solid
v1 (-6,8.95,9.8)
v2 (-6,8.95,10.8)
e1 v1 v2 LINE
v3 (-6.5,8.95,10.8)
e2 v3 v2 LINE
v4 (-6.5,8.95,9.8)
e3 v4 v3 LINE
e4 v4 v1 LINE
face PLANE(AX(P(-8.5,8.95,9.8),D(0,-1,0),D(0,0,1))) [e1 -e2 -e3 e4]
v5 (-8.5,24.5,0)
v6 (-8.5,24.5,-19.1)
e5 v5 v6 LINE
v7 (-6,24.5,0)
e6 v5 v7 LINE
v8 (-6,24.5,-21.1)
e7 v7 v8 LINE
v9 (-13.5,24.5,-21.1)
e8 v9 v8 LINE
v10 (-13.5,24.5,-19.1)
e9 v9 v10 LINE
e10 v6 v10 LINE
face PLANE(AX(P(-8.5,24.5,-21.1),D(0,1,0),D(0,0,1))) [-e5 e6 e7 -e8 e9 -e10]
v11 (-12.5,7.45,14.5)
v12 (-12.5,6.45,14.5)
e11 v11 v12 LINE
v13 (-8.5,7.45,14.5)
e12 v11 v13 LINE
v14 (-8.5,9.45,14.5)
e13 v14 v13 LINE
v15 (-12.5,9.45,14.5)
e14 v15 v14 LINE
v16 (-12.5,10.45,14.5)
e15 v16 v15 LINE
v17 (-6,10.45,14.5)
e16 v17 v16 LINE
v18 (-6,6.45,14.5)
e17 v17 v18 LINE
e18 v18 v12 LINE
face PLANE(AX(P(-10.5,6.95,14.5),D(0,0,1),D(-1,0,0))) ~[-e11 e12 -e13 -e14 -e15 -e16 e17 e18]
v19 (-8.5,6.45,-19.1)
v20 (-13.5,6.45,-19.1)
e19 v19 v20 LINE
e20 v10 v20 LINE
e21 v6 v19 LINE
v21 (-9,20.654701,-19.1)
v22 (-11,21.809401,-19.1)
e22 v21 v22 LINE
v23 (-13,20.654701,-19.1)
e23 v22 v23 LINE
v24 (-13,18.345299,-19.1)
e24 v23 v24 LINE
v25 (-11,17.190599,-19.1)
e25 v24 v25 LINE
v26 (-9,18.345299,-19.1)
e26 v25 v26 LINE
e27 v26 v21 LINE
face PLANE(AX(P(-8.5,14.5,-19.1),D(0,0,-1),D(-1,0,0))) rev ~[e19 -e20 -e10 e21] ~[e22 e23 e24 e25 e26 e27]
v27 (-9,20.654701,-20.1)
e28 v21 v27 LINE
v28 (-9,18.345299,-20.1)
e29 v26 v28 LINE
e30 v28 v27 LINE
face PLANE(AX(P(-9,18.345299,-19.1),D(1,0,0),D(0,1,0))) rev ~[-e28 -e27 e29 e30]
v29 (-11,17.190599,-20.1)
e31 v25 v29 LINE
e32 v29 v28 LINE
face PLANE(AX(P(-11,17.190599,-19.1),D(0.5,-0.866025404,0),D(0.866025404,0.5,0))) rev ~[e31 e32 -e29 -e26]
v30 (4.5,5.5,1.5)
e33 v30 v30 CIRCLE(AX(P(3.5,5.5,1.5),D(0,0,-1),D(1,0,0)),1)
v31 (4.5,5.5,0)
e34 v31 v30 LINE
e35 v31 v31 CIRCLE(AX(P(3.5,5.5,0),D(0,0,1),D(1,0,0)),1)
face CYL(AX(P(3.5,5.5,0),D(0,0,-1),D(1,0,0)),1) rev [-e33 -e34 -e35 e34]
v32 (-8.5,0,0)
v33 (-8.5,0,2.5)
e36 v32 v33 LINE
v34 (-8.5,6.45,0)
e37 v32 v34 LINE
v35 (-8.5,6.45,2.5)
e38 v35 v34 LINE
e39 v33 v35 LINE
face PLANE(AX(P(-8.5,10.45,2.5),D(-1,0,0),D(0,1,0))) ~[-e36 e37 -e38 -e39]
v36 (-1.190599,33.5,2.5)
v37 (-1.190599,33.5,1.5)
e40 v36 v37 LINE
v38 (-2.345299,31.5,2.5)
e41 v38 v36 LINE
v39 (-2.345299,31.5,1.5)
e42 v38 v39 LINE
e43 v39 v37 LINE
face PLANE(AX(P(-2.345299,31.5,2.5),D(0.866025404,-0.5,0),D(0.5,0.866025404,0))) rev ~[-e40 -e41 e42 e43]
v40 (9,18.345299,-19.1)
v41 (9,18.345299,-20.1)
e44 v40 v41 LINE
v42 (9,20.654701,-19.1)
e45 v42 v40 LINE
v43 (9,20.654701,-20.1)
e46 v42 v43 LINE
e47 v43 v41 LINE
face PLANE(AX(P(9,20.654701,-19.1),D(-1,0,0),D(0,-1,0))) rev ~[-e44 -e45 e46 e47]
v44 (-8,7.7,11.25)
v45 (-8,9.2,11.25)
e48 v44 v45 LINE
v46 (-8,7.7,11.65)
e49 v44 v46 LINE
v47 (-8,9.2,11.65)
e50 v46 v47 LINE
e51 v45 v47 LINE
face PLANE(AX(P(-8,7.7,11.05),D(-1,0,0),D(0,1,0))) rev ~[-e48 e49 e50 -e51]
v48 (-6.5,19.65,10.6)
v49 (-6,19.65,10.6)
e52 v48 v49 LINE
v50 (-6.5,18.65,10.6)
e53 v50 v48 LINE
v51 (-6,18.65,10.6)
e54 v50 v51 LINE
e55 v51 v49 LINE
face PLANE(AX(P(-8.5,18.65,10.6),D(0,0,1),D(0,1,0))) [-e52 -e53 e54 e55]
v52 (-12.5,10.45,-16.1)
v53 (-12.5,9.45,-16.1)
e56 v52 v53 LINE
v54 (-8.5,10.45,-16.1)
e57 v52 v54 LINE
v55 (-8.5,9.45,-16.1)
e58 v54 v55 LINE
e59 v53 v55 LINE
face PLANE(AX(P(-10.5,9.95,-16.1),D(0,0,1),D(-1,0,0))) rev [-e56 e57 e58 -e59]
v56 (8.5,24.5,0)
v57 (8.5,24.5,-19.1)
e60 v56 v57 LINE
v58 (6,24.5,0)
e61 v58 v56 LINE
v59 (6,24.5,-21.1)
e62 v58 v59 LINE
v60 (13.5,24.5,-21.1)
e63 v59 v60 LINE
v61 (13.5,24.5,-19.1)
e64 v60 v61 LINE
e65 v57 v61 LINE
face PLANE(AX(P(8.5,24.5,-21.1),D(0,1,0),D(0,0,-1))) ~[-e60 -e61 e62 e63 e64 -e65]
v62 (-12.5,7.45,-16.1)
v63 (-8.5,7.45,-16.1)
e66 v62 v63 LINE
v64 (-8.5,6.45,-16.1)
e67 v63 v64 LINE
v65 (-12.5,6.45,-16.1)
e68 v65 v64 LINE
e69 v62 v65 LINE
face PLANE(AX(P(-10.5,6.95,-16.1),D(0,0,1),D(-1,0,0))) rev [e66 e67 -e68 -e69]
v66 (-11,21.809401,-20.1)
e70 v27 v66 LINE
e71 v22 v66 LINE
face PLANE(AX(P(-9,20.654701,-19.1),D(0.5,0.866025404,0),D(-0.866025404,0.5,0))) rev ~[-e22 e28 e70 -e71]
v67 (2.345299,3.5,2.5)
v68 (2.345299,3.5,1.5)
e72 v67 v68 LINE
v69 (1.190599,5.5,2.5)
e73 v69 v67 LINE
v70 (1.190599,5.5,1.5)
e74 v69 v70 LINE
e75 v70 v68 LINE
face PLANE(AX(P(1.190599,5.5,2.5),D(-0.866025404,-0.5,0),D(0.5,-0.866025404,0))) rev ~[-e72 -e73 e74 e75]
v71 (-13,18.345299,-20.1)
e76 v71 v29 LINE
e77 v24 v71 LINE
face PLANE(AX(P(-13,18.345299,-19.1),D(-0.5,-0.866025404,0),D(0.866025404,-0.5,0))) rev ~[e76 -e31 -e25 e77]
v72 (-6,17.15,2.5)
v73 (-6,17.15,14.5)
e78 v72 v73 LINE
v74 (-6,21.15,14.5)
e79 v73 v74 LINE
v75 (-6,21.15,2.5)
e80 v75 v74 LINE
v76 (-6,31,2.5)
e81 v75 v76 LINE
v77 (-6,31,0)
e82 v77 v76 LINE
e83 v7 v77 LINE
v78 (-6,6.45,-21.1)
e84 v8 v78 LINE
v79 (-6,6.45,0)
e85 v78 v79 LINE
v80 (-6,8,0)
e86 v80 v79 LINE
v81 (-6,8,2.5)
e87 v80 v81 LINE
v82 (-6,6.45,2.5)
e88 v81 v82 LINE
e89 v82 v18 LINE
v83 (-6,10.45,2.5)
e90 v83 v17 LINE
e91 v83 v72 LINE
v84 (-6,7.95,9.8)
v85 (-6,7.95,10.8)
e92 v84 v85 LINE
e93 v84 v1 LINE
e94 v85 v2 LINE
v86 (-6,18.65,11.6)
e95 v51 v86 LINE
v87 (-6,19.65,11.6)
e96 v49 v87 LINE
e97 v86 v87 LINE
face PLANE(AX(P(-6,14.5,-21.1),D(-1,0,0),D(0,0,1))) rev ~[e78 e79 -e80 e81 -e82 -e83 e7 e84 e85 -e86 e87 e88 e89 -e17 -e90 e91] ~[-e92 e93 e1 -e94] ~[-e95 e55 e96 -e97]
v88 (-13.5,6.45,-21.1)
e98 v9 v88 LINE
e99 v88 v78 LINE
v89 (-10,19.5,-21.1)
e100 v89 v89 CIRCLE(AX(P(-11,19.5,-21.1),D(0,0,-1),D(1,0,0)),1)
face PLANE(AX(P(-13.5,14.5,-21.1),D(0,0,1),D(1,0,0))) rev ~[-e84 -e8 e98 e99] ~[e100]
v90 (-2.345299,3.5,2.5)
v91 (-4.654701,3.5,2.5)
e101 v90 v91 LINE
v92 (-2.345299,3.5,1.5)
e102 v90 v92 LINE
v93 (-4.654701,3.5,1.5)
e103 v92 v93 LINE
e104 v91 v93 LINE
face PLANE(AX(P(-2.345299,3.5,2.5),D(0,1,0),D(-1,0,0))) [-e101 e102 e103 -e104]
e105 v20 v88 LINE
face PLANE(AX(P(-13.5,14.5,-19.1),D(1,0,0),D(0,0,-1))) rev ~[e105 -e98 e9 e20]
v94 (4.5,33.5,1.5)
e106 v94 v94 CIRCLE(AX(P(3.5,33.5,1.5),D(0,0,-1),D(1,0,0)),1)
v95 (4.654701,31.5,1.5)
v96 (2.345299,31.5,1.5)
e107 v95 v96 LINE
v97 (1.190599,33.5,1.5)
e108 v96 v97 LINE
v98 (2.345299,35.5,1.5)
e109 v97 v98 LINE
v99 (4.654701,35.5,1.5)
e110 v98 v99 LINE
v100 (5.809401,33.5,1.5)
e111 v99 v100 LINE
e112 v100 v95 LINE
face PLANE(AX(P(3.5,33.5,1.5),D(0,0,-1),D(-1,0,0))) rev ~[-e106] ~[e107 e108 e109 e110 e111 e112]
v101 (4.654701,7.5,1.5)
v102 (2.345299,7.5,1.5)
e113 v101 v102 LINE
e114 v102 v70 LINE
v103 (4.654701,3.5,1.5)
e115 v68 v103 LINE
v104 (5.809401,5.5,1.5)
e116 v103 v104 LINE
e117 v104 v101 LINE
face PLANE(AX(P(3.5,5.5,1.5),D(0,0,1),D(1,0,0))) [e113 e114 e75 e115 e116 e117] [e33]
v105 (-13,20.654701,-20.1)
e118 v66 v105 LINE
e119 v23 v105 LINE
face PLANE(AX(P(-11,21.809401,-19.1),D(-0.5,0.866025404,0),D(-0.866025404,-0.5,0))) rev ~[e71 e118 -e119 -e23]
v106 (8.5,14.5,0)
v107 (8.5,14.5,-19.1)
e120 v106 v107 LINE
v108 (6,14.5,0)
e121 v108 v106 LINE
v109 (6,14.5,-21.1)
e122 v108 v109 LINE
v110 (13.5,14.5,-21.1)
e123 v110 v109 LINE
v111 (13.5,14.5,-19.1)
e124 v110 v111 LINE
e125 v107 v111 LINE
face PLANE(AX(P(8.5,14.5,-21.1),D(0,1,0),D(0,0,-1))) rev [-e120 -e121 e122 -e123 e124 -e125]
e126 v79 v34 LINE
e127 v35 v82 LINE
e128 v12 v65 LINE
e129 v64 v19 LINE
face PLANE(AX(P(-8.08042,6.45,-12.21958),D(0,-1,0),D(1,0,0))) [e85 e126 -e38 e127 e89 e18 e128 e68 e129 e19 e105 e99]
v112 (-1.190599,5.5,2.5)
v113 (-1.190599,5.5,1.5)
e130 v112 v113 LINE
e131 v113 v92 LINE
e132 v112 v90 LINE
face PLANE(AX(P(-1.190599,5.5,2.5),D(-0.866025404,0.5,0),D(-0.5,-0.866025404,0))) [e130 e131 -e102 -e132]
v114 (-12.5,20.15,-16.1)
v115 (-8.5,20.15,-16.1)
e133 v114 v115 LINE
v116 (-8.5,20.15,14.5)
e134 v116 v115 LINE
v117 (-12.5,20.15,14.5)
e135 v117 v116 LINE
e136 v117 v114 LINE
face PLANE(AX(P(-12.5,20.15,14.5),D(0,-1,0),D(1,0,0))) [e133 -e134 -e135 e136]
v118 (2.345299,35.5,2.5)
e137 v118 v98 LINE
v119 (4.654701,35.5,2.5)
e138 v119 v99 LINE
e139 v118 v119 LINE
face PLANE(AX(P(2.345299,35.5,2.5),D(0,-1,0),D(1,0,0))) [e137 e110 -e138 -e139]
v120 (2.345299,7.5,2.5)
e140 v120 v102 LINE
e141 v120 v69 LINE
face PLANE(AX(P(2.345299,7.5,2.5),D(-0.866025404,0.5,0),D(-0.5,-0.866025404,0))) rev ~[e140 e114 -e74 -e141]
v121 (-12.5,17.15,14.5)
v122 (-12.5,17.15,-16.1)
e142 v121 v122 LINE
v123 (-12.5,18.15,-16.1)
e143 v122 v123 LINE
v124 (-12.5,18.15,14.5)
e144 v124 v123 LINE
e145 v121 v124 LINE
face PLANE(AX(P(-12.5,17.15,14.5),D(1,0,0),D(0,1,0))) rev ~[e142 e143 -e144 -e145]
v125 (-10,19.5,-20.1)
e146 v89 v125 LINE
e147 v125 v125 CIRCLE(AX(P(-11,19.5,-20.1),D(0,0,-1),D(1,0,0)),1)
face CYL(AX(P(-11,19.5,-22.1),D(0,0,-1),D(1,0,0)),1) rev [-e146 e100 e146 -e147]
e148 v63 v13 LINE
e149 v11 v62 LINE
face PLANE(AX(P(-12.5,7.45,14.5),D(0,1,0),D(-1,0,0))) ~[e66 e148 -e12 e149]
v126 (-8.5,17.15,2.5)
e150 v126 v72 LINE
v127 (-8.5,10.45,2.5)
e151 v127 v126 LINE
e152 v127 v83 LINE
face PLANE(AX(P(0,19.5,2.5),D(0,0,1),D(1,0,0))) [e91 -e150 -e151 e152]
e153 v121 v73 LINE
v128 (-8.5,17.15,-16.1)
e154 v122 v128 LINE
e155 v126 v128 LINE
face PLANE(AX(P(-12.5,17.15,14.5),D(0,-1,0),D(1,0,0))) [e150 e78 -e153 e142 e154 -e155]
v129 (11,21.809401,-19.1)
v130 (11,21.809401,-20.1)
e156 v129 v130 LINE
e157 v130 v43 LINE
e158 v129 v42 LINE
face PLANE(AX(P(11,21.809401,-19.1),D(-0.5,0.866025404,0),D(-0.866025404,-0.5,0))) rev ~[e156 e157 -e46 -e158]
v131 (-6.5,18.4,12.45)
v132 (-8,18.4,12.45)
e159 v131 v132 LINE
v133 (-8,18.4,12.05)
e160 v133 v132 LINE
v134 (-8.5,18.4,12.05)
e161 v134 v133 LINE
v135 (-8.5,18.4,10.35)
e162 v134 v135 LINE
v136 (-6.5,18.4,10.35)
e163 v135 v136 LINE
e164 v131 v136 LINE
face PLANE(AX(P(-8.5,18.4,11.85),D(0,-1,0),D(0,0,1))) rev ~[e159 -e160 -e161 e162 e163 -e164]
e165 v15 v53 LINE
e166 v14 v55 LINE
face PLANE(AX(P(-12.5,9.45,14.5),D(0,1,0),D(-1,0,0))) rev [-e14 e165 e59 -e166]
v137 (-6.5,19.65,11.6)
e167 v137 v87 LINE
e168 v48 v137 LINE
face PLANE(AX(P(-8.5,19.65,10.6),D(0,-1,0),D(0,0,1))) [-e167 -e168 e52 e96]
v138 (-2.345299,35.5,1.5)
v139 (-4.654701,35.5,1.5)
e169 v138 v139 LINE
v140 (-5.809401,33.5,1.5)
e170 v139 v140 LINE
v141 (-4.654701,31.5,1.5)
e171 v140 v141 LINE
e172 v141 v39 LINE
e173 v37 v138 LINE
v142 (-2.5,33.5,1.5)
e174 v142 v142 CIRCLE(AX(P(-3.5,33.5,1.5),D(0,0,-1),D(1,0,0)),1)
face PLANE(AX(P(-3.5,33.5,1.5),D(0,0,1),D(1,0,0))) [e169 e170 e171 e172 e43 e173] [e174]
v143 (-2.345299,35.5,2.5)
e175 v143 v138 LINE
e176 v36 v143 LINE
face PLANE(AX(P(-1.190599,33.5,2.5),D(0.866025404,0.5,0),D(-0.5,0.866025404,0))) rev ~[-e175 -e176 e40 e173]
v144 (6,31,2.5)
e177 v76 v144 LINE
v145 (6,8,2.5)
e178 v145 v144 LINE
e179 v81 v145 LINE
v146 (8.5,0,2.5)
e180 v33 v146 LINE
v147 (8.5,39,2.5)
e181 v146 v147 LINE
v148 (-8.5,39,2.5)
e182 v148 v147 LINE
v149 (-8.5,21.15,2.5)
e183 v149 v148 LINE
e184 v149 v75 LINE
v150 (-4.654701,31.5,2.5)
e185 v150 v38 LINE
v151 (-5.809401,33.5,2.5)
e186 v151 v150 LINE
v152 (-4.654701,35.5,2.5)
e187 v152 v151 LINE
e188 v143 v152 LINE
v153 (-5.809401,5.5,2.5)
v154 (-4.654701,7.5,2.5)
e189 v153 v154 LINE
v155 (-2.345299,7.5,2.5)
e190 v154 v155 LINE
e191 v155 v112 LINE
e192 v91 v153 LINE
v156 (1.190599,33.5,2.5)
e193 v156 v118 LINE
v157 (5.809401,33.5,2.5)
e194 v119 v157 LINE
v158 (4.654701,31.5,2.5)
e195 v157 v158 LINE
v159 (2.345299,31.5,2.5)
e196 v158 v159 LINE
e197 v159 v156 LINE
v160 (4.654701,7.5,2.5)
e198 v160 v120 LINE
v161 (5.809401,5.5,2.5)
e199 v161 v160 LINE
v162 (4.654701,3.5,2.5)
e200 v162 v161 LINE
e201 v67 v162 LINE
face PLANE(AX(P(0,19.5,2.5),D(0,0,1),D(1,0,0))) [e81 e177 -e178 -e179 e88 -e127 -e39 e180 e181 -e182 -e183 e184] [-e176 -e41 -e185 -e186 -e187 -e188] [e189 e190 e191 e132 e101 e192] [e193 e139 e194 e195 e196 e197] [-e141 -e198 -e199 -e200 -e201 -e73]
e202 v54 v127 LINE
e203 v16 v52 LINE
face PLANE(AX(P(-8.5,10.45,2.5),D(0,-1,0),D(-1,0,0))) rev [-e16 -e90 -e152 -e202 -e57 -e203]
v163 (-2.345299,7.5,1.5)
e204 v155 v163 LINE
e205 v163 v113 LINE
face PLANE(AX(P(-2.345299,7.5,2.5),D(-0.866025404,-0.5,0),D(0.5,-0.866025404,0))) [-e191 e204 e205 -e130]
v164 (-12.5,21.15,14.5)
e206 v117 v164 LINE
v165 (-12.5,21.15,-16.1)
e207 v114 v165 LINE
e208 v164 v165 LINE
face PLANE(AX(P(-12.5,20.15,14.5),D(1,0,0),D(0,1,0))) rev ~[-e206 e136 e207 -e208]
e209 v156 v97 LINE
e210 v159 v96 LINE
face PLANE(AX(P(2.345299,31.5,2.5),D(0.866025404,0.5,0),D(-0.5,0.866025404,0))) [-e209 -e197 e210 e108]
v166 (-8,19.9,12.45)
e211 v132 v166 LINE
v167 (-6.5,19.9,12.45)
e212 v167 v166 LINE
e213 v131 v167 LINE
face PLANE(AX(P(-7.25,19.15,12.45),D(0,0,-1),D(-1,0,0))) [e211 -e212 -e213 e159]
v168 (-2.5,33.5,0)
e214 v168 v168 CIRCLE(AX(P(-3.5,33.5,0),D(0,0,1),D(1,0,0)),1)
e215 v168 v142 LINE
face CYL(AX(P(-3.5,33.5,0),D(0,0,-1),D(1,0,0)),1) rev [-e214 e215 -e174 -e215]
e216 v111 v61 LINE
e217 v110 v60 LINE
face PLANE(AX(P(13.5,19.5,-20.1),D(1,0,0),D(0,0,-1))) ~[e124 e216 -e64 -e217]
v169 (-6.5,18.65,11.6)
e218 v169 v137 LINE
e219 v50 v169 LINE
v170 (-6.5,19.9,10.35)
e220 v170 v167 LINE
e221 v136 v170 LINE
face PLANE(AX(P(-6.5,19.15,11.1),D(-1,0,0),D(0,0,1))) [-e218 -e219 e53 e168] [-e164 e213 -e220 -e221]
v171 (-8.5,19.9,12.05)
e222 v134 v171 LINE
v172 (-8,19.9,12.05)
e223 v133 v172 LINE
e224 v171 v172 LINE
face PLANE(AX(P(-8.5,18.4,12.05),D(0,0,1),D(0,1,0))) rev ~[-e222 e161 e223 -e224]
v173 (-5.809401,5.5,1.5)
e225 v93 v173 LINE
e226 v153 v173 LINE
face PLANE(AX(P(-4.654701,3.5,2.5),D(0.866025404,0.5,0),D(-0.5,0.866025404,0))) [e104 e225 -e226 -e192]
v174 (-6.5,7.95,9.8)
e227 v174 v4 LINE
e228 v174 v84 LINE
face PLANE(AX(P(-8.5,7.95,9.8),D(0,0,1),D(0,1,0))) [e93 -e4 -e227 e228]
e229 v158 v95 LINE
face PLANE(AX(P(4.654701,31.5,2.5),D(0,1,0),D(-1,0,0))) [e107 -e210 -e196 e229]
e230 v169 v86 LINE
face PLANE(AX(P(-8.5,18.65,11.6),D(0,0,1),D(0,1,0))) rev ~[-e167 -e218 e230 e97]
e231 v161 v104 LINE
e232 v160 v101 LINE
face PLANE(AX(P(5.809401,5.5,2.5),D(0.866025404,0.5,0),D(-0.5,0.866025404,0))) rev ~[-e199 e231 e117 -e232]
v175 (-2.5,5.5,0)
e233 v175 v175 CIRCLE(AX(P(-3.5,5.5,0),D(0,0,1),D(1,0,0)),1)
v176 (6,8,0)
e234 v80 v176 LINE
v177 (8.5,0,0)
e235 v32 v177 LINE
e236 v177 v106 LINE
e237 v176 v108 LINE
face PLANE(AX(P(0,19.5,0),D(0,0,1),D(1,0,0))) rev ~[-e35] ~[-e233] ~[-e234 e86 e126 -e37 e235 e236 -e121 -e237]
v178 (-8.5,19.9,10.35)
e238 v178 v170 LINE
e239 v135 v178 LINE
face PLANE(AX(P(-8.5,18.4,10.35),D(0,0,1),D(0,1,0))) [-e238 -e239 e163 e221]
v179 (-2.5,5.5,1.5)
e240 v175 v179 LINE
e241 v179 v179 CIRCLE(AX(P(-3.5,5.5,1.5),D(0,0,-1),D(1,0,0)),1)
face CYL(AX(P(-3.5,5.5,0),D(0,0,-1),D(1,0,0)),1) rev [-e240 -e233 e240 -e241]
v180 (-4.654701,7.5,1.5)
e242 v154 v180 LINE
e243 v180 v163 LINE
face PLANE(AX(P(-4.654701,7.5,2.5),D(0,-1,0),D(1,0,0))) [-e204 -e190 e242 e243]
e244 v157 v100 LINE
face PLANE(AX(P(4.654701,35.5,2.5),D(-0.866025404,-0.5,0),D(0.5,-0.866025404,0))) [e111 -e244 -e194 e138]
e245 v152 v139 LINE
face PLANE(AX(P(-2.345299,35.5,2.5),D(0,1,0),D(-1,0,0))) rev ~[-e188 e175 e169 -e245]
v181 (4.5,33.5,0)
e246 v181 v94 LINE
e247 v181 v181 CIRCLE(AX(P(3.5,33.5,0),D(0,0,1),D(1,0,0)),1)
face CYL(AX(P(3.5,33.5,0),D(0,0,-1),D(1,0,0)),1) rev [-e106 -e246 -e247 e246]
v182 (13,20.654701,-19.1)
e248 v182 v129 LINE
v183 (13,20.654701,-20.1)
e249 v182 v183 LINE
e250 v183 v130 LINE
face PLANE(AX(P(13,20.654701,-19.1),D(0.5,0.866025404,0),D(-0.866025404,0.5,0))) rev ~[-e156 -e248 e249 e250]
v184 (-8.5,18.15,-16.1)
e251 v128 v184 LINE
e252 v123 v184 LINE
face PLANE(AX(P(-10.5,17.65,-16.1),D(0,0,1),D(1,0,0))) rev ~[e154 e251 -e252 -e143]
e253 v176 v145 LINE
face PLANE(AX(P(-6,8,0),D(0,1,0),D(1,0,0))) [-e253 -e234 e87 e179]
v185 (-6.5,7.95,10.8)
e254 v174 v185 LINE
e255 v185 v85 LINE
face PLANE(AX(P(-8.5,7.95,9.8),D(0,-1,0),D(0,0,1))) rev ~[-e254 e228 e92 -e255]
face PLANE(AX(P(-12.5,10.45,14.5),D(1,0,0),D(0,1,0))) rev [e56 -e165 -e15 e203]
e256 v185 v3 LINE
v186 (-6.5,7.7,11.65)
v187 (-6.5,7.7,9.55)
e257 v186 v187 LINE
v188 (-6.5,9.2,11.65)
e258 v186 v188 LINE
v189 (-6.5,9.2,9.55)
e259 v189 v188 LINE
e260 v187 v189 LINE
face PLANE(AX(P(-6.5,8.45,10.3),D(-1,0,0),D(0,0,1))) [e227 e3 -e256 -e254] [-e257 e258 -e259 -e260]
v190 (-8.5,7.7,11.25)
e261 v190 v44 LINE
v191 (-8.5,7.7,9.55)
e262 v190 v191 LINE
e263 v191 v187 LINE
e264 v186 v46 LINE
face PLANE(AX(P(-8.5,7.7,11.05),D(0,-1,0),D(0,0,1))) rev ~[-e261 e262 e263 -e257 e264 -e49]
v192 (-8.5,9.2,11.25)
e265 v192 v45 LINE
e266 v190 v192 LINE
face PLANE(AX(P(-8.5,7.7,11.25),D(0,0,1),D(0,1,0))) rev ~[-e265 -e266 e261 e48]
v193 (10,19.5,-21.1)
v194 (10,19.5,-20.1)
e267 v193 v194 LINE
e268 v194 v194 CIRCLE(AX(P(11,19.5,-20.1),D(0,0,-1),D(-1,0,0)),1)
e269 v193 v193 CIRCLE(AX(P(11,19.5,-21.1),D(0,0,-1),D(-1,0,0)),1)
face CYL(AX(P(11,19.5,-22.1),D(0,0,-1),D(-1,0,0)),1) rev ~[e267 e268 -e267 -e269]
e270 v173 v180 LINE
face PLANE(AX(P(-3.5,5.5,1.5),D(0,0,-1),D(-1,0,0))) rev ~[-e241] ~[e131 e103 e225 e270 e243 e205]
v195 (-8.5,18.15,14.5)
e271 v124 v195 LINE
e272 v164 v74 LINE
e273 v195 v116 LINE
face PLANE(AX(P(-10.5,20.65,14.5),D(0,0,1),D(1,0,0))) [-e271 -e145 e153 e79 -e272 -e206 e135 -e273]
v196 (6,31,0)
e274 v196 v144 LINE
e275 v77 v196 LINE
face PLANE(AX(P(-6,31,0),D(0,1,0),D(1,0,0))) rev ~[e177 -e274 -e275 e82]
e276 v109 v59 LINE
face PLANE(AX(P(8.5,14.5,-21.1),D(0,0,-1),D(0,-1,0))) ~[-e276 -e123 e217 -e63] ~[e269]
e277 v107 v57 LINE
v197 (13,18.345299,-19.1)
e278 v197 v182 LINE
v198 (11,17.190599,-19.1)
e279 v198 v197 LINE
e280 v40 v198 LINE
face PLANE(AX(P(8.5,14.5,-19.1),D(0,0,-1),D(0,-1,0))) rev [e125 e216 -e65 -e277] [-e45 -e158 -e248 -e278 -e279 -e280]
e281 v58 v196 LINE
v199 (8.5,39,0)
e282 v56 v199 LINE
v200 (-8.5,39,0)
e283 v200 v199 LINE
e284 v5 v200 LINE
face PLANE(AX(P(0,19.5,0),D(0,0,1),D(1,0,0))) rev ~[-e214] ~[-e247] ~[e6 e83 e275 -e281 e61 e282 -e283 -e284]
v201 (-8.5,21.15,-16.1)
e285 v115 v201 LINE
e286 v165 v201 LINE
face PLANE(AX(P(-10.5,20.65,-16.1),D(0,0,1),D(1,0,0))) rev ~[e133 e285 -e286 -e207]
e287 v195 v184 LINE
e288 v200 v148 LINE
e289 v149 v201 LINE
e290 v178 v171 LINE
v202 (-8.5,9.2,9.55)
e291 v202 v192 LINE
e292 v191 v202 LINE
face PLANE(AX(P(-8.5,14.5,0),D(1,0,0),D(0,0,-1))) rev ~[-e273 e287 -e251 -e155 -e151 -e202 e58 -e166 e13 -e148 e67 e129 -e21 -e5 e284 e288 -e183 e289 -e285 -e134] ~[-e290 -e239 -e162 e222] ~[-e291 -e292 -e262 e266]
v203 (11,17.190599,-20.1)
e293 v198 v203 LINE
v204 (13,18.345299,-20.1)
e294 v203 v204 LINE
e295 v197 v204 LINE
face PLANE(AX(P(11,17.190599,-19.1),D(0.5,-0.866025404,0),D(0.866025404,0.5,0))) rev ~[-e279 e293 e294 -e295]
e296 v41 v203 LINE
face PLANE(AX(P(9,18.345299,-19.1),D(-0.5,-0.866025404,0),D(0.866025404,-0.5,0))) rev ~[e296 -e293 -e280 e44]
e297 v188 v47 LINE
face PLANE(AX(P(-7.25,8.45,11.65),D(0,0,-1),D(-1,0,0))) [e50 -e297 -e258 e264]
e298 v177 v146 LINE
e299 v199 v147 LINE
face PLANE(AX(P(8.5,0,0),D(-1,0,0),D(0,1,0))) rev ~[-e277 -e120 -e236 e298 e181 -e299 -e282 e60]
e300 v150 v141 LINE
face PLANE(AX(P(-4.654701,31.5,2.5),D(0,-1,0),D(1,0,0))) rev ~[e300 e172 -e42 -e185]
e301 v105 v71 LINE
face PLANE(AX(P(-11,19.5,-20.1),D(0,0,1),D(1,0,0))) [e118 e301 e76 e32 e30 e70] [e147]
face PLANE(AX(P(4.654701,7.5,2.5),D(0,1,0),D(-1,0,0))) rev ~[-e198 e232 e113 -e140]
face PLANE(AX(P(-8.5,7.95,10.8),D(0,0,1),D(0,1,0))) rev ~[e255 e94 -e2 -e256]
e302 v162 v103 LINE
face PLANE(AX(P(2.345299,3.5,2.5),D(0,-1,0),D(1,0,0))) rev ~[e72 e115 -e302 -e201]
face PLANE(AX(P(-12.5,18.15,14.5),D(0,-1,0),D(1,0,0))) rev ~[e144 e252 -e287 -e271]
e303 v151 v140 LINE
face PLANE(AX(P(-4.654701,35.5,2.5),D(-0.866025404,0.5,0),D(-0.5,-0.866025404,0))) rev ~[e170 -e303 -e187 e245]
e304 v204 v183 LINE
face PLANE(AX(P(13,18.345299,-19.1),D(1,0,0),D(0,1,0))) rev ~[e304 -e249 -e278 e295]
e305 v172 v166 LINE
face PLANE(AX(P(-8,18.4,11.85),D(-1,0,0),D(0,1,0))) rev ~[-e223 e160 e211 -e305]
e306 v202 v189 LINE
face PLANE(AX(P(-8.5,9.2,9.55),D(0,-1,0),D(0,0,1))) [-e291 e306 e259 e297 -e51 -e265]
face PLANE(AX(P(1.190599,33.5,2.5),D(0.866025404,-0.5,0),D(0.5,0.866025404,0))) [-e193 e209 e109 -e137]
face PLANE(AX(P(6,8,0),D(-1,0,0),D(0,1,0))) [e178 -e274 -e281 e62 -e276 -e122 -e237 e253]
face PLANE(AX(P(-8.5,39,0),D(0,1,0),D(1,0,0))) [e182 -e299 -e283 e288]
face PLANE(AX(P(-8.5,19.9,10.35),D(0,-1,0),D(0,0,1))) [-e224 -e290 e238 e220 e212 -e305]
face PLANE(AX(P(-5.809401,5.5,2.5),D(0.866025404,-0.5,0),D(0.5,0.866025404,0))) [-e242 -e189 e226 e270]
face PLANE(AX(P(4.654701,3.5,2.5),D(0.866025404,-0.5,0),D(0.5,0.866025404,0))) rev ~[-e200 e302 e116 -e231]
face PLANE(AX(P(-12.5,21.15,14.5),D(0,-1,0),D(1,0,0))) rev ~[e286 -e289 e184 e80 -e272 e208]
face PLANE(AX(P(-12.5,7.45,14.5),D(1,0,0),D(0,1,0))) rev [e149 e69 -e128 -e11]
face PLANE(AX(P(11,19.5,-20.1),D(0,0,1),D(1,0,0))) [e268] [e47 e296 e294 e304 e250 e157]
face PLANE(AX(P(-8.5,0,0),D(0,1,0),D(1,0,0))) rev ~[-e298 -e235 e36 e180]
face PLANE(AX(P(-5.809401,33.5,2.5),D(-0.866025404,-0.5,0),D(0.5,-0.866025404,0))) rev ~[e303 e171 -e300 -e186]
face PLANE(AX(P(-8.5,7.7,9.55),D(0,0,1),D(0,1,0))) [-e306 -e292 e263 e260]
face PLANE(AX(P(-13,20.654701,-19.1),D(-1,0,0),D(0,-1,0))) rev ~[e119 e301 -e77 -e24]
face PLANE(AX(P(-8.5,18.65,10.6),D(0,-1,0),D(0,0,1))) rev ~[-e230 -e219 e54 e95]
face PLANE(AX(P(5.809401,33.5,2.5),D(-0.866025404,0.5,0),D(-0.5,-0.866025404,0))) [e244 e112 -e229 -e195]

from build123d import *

# Parameters (mm, degrees)
SKETCH1_W                     = 17
SKETCH1_H                     = 39
SKETCH1_R                     = 1
SKETCH1_W_2                   = 12
SKETCH1_H_2                   = 23
SERVOBRACKET_DEPTH            = 2.5
SKETCH1_5_W                   = 2.5
SKETCH1_5_H                   = 10
SUPPORTLEGS_DEPTH             = 21.1
SKETCH2_W                     = 2
SKETCH2_H                     = 10
SUPPORTFOOT_DEPTH             = 5
BASEBOLTHOLE_START            = -3
SKETCH3_R                     = 1
BASEBOLTHOLE_DEPTH            = 25.6
SERVONUTSLOTS_DEPTH           = 1
BASENUTSLOTS_DEPTH            = 1
SKETCH6_W                     = 2.5
SKETCH6_H                     = 4
TUBEHOLDERBASE_DEPTH          = 12
SKETCH7_W                     = 4
SKETCH7_H                     = 1
TUBEHOLDERSTIFFENERRIBS_DEPTH = 30.6
SKETCH8_W                     = 1
SKETCH8_H                     = 1
SKETCH8_W_2                   = 1.5
SKETCH8_H_2                   = 1.5
TUBECLIPENTRANCES_DEPTH       = 2
SKETCH8_3_W                   = 1
SKETCH8_3_H                   = 1
CABLEEXITS_DEPTH              = 2.5
SKETCH9_W                     = 1.5
SKETCH9_H                     = 1.5
TUBECLIPLOCKSLOT_DEPTH        = 0.6
SKETCH10_W                    = 1.5
SKETCH10_H                    = 1.5
TUBECLIPLOCKSLOT2_DEPTH       = 0.6
SUPPORTLEGEXTENSION_DEPTH     = 8.05
SKETCH8_4_W                   = 0.2
SKETCH8_4_H                   = 1.5
TUBECLIPLOCKCLEARANCE_DEPTH   = 0.5


with BuildPart() as part:
    # Sketch1 → ServoBracket (new body)
    with BuildSketch(Plane.XY):
        with Locations((0, 19.5)):
            Rectangle(SKETCH1_W, SKETCH1_H)
        with Locations((-3.5, 33.5)):
            Circle(SKETCH1_R, mode=Mode.SUBTRACT)
        with Locations((-3.5, 5.5)):
            Circle(SKETCH1_R, mode=Mode.SUBTRACT)
        with Locations((3.5, 5.5)):
            Circle(SKETCH1_R, mode=Mode.SUBTRACT)
        with Locations((3.5, 33.5)):
            Circle(SKETCH1_R, mode=Mode.SUBTRACT)
        with Locations((0, 19.5)):
            Rectangle(SKETCH1_W_2, SKETCH1_H_2, mode=Mode.SUBTRACT)
    extrude(amount=SERVOBRACKET_DEPTH)

    # Sketch1<5> → SupportLegs (add)
    with BuildSketch(Plane.XY):
        with Locations((-7.25, 19.5)):
            Rectangle(SKETCH1_5_W, SKETCH1_5_H)
        with Locations((7.25, 19.5)):
            Rectangle(SKETCH1_5_W, SKETCH1_5_H)
    extrude(amount=-SUPPORTLEGS_DEPTH)

    # Sketch2 → SupportFoot (add)
    with BuildSketch(Plane.ZY.offset(8.5)):
        with Locations((-20.1, 19.5)):
            Rectangle(SKETCH2_W, SKETCH2_H)
    supportfoot = extrude(amount=SUPPORTFOOT_DEPTH)

    # Sketch3 → BaseBoltHole (cut)
    with BuildSketch(Plane.XY.offset(-19.1).offset(BASEBOLTHOLE_START)):
        with Locations((-11, 19.5)):
            Circle(SKETCH3_R)
    basebolthole = extrude(amount=BASEBOLTHOLE_DEPTH, mode=Mode.SUBTRACT)

    # SupportFoot2: SupportFoot, BaseBoltHole across plane
    add(supportfoot.mirror(Plane(origin=(0, 0, 0), x_dir=(0, 0, 1), z_dir=(1, 0, 0))))
    add(basebolthole.mirror(Plane(origin=(0, 0, 0), x_dir=(0, 0, 1), z_dir=(1, 0, 0))), mode=Mode.SUBTRACT)

    # Sketch4 → ServoNutSlots (cut)
    with BuildSketch(Plane.XY.offset(2.5)):
        Polygon((-4.654700538, 7.5), (-2.345299462, 7.5), (-1.190598923, 5.5), (-2.345299462, 3.5), (-4.654700538, 3.5), (-5.809401077, 5.5), align=None)
        Polygon((-1.190598923, 33.5), (-2.345299462, 35.5), (-4.654700538, 35.5), (-5.809401077, 33.5), (-4.654700538, 31.5), (-2.345299462, 31.5), align=None)
        Polygon((2.345299462, 31.5), (1.190598923, 33.5), (2.345299462, 35.5), (4.654700538, 35.5), (5.809401077, 33.5), (4.654700538, 31.5), align=None)
        Polygon((4.654700538, 7.5), (2.345299462, 7.5), (1.190598923, 5.5), (2.345299462, 3.5), (4.654700538, 3.5), (5.809401077, 5.5), align=None)
    extrude(amount=-SERVONUTSLOTS_DEPTH, mode=Mode.SUBTRACT)

    # Sketch5 → BaseNutSlots (cut)
    with BuildSketch(Plane.XY.offset(-19.1)):
        Polygon((-11, 21.809401077), (-13, 20.654700538), (-13, 18.345299462), (-11, 17.190598923), (-9, 18.345299462), (-9, 20.654700538), align=None)
        Polygon((11, 21.809401077), (9, 20.654700538), (9, 18.345299462), (11, 17.190598923), (13, 18.345299462), (13, 20.654700538), align=None)
    extrude(amount=-BASENUTSLOTS_DEPTH, mode=Mode.SUBTRACT)

    # Sketch6 → TubeHolderBase (add)
    with BuildSketch(Plane.XY.offset(2.5)):
        with Locations((-7.25, 19.15)):
            Rectangle(SKETCH6_W, SKETCH6_H)
    tubeholderbase = extrude(amount=TUBEHOLDERBASE_DEPTH)

    # Sketch7 → TubeHolderStiffenerRibs (add)
    with BuildSketch(Plane.XY.offset(14.5)):
        with Locations((-10.5, 20.65)):
            Rectangle(SKETCH7_W, SKETCH7_H)
        with Locations((-10.5, 17.65)):
            Rectangle(SKETCH7_W, SKETCH7_H)
    tubeholderstiffenerribs = extrude(amount=-TUBEHOLDERSTIFFENERRIBS_DEPTH)

    # TubeHolder2: TubeHolderBase, TubeHolderStiffenerRibs across plane
    add(tubeholderbase.mirror(Plane.ZX.offset(13.8)))
    add(tubeholderstiffenerribs.mirror(Plane.ZX.offset(13.8)))

    # Sketch8 → TubeClipEntrances (cut)
    with BuildSketch(Plane.ZY.offset(8.5)):
        with Locations((11.1, 19.15)):
            Rectangle(SKETCH8_W, SKETCH8_H)
        with Locations((11.1, 19.15)):
            Rectangle(SKETCH8_W_2, SKETCH8_H_2)
        with Locations((11.1, 19.15)):
            Rectangle(SKETCH8_W, SKETCH8_H, mode=Mode.SUBTRACT)
        with Locations((10.3, 8.45)):
            Rectangle(SKETCH8_W, SKETCH8_H)
        with Locations((10.3, 8.45)):
            Rectangle(SKETCH8_W_2, SKETCH8_H_2)
        with Locations((10.3, 8.45)):
            Rectangle(SKETCH8_W, SKETCH8_H, mode=Mode.SUBTRACT)
    extrude(amount=-TUBECLIPENTRANCES_DEPTH, mode=Mode.SUBTRACT)

    # Sketch8<3> → CableExits (cut)
    with BuildSketch(Plane.ZY.offset(8.5)):
        with Locations((11.1, 19.15)):
            Rectangle(SKETCH8_3_W, SKETCH8_3_H)
        with Locations((10.3, 8.45)):
            Rectangle(SKETCH8_3_W, SKETCH8_3_H)
    extrude(amount=-CABLEEXITS_DEPTH, mode=Mode.SUBTRACT)

    # Sketch9 → TubeClipLockSlot (cut)
    with BuildSketch(Plane(origin=(0, 0, 11.85), x_dir=(-1, 0, 0), z_dir=(0, 0, -1))):
        with Locations((7.25, 19.15)):
            Rectangle(SKETCH9_W, SKETCH9_H)
    extrude(amount=-TUBECLIPLOCKSLOT_DEPTH, mode=Mode.SUBTRACT)

    # Sketch10 → TubeClipLockSlot2 (cut)
    with BuildSketch(Plane(origin=(0, 0, 11.05), x_dir=(-1, 0, 0), z_dir=(0, 0, -1))):
        with Locations((7.25, 8.45)):
            Rectangle(SKETCH10_W, SKETCH10_H)
    extrude(amount=-TUBECLIPLOCKSLOT2_DEPTH, mode=Mode.SUBTRACT)

    # Sketch11 → SupportLegExtension (add)
    with BuildSketch(Plane.XZ.offset(-14.5)):
        Polygon((-6, 0), (-8.5, 0), (-8.5, -19.1), (-13.5, -19.1), (-13.5, -21.1), (-6, -21.1), align=None)
    extrude(amount=SUPPORTLEGEXTENSION_DEPTH)

    # Sketch8<4> → TubeClipLockClearance (cut)
    with BuildSketch(Plane.ZY.offset(8.5)):
        with Locations((11.15, 8.45)):
            Rectangle(SKETCH8_4_W, SKETCH8_4_H)
        with Locations((11.95, 19.15)):
            Rectangle(SKETCH8_4_W, SKETCH8_4_H)
    extrude(amount=-TUBECLIPLOCKCLEARANCE_DEPTH, mode=Mode.SUBTRACT)


solid = part.part
